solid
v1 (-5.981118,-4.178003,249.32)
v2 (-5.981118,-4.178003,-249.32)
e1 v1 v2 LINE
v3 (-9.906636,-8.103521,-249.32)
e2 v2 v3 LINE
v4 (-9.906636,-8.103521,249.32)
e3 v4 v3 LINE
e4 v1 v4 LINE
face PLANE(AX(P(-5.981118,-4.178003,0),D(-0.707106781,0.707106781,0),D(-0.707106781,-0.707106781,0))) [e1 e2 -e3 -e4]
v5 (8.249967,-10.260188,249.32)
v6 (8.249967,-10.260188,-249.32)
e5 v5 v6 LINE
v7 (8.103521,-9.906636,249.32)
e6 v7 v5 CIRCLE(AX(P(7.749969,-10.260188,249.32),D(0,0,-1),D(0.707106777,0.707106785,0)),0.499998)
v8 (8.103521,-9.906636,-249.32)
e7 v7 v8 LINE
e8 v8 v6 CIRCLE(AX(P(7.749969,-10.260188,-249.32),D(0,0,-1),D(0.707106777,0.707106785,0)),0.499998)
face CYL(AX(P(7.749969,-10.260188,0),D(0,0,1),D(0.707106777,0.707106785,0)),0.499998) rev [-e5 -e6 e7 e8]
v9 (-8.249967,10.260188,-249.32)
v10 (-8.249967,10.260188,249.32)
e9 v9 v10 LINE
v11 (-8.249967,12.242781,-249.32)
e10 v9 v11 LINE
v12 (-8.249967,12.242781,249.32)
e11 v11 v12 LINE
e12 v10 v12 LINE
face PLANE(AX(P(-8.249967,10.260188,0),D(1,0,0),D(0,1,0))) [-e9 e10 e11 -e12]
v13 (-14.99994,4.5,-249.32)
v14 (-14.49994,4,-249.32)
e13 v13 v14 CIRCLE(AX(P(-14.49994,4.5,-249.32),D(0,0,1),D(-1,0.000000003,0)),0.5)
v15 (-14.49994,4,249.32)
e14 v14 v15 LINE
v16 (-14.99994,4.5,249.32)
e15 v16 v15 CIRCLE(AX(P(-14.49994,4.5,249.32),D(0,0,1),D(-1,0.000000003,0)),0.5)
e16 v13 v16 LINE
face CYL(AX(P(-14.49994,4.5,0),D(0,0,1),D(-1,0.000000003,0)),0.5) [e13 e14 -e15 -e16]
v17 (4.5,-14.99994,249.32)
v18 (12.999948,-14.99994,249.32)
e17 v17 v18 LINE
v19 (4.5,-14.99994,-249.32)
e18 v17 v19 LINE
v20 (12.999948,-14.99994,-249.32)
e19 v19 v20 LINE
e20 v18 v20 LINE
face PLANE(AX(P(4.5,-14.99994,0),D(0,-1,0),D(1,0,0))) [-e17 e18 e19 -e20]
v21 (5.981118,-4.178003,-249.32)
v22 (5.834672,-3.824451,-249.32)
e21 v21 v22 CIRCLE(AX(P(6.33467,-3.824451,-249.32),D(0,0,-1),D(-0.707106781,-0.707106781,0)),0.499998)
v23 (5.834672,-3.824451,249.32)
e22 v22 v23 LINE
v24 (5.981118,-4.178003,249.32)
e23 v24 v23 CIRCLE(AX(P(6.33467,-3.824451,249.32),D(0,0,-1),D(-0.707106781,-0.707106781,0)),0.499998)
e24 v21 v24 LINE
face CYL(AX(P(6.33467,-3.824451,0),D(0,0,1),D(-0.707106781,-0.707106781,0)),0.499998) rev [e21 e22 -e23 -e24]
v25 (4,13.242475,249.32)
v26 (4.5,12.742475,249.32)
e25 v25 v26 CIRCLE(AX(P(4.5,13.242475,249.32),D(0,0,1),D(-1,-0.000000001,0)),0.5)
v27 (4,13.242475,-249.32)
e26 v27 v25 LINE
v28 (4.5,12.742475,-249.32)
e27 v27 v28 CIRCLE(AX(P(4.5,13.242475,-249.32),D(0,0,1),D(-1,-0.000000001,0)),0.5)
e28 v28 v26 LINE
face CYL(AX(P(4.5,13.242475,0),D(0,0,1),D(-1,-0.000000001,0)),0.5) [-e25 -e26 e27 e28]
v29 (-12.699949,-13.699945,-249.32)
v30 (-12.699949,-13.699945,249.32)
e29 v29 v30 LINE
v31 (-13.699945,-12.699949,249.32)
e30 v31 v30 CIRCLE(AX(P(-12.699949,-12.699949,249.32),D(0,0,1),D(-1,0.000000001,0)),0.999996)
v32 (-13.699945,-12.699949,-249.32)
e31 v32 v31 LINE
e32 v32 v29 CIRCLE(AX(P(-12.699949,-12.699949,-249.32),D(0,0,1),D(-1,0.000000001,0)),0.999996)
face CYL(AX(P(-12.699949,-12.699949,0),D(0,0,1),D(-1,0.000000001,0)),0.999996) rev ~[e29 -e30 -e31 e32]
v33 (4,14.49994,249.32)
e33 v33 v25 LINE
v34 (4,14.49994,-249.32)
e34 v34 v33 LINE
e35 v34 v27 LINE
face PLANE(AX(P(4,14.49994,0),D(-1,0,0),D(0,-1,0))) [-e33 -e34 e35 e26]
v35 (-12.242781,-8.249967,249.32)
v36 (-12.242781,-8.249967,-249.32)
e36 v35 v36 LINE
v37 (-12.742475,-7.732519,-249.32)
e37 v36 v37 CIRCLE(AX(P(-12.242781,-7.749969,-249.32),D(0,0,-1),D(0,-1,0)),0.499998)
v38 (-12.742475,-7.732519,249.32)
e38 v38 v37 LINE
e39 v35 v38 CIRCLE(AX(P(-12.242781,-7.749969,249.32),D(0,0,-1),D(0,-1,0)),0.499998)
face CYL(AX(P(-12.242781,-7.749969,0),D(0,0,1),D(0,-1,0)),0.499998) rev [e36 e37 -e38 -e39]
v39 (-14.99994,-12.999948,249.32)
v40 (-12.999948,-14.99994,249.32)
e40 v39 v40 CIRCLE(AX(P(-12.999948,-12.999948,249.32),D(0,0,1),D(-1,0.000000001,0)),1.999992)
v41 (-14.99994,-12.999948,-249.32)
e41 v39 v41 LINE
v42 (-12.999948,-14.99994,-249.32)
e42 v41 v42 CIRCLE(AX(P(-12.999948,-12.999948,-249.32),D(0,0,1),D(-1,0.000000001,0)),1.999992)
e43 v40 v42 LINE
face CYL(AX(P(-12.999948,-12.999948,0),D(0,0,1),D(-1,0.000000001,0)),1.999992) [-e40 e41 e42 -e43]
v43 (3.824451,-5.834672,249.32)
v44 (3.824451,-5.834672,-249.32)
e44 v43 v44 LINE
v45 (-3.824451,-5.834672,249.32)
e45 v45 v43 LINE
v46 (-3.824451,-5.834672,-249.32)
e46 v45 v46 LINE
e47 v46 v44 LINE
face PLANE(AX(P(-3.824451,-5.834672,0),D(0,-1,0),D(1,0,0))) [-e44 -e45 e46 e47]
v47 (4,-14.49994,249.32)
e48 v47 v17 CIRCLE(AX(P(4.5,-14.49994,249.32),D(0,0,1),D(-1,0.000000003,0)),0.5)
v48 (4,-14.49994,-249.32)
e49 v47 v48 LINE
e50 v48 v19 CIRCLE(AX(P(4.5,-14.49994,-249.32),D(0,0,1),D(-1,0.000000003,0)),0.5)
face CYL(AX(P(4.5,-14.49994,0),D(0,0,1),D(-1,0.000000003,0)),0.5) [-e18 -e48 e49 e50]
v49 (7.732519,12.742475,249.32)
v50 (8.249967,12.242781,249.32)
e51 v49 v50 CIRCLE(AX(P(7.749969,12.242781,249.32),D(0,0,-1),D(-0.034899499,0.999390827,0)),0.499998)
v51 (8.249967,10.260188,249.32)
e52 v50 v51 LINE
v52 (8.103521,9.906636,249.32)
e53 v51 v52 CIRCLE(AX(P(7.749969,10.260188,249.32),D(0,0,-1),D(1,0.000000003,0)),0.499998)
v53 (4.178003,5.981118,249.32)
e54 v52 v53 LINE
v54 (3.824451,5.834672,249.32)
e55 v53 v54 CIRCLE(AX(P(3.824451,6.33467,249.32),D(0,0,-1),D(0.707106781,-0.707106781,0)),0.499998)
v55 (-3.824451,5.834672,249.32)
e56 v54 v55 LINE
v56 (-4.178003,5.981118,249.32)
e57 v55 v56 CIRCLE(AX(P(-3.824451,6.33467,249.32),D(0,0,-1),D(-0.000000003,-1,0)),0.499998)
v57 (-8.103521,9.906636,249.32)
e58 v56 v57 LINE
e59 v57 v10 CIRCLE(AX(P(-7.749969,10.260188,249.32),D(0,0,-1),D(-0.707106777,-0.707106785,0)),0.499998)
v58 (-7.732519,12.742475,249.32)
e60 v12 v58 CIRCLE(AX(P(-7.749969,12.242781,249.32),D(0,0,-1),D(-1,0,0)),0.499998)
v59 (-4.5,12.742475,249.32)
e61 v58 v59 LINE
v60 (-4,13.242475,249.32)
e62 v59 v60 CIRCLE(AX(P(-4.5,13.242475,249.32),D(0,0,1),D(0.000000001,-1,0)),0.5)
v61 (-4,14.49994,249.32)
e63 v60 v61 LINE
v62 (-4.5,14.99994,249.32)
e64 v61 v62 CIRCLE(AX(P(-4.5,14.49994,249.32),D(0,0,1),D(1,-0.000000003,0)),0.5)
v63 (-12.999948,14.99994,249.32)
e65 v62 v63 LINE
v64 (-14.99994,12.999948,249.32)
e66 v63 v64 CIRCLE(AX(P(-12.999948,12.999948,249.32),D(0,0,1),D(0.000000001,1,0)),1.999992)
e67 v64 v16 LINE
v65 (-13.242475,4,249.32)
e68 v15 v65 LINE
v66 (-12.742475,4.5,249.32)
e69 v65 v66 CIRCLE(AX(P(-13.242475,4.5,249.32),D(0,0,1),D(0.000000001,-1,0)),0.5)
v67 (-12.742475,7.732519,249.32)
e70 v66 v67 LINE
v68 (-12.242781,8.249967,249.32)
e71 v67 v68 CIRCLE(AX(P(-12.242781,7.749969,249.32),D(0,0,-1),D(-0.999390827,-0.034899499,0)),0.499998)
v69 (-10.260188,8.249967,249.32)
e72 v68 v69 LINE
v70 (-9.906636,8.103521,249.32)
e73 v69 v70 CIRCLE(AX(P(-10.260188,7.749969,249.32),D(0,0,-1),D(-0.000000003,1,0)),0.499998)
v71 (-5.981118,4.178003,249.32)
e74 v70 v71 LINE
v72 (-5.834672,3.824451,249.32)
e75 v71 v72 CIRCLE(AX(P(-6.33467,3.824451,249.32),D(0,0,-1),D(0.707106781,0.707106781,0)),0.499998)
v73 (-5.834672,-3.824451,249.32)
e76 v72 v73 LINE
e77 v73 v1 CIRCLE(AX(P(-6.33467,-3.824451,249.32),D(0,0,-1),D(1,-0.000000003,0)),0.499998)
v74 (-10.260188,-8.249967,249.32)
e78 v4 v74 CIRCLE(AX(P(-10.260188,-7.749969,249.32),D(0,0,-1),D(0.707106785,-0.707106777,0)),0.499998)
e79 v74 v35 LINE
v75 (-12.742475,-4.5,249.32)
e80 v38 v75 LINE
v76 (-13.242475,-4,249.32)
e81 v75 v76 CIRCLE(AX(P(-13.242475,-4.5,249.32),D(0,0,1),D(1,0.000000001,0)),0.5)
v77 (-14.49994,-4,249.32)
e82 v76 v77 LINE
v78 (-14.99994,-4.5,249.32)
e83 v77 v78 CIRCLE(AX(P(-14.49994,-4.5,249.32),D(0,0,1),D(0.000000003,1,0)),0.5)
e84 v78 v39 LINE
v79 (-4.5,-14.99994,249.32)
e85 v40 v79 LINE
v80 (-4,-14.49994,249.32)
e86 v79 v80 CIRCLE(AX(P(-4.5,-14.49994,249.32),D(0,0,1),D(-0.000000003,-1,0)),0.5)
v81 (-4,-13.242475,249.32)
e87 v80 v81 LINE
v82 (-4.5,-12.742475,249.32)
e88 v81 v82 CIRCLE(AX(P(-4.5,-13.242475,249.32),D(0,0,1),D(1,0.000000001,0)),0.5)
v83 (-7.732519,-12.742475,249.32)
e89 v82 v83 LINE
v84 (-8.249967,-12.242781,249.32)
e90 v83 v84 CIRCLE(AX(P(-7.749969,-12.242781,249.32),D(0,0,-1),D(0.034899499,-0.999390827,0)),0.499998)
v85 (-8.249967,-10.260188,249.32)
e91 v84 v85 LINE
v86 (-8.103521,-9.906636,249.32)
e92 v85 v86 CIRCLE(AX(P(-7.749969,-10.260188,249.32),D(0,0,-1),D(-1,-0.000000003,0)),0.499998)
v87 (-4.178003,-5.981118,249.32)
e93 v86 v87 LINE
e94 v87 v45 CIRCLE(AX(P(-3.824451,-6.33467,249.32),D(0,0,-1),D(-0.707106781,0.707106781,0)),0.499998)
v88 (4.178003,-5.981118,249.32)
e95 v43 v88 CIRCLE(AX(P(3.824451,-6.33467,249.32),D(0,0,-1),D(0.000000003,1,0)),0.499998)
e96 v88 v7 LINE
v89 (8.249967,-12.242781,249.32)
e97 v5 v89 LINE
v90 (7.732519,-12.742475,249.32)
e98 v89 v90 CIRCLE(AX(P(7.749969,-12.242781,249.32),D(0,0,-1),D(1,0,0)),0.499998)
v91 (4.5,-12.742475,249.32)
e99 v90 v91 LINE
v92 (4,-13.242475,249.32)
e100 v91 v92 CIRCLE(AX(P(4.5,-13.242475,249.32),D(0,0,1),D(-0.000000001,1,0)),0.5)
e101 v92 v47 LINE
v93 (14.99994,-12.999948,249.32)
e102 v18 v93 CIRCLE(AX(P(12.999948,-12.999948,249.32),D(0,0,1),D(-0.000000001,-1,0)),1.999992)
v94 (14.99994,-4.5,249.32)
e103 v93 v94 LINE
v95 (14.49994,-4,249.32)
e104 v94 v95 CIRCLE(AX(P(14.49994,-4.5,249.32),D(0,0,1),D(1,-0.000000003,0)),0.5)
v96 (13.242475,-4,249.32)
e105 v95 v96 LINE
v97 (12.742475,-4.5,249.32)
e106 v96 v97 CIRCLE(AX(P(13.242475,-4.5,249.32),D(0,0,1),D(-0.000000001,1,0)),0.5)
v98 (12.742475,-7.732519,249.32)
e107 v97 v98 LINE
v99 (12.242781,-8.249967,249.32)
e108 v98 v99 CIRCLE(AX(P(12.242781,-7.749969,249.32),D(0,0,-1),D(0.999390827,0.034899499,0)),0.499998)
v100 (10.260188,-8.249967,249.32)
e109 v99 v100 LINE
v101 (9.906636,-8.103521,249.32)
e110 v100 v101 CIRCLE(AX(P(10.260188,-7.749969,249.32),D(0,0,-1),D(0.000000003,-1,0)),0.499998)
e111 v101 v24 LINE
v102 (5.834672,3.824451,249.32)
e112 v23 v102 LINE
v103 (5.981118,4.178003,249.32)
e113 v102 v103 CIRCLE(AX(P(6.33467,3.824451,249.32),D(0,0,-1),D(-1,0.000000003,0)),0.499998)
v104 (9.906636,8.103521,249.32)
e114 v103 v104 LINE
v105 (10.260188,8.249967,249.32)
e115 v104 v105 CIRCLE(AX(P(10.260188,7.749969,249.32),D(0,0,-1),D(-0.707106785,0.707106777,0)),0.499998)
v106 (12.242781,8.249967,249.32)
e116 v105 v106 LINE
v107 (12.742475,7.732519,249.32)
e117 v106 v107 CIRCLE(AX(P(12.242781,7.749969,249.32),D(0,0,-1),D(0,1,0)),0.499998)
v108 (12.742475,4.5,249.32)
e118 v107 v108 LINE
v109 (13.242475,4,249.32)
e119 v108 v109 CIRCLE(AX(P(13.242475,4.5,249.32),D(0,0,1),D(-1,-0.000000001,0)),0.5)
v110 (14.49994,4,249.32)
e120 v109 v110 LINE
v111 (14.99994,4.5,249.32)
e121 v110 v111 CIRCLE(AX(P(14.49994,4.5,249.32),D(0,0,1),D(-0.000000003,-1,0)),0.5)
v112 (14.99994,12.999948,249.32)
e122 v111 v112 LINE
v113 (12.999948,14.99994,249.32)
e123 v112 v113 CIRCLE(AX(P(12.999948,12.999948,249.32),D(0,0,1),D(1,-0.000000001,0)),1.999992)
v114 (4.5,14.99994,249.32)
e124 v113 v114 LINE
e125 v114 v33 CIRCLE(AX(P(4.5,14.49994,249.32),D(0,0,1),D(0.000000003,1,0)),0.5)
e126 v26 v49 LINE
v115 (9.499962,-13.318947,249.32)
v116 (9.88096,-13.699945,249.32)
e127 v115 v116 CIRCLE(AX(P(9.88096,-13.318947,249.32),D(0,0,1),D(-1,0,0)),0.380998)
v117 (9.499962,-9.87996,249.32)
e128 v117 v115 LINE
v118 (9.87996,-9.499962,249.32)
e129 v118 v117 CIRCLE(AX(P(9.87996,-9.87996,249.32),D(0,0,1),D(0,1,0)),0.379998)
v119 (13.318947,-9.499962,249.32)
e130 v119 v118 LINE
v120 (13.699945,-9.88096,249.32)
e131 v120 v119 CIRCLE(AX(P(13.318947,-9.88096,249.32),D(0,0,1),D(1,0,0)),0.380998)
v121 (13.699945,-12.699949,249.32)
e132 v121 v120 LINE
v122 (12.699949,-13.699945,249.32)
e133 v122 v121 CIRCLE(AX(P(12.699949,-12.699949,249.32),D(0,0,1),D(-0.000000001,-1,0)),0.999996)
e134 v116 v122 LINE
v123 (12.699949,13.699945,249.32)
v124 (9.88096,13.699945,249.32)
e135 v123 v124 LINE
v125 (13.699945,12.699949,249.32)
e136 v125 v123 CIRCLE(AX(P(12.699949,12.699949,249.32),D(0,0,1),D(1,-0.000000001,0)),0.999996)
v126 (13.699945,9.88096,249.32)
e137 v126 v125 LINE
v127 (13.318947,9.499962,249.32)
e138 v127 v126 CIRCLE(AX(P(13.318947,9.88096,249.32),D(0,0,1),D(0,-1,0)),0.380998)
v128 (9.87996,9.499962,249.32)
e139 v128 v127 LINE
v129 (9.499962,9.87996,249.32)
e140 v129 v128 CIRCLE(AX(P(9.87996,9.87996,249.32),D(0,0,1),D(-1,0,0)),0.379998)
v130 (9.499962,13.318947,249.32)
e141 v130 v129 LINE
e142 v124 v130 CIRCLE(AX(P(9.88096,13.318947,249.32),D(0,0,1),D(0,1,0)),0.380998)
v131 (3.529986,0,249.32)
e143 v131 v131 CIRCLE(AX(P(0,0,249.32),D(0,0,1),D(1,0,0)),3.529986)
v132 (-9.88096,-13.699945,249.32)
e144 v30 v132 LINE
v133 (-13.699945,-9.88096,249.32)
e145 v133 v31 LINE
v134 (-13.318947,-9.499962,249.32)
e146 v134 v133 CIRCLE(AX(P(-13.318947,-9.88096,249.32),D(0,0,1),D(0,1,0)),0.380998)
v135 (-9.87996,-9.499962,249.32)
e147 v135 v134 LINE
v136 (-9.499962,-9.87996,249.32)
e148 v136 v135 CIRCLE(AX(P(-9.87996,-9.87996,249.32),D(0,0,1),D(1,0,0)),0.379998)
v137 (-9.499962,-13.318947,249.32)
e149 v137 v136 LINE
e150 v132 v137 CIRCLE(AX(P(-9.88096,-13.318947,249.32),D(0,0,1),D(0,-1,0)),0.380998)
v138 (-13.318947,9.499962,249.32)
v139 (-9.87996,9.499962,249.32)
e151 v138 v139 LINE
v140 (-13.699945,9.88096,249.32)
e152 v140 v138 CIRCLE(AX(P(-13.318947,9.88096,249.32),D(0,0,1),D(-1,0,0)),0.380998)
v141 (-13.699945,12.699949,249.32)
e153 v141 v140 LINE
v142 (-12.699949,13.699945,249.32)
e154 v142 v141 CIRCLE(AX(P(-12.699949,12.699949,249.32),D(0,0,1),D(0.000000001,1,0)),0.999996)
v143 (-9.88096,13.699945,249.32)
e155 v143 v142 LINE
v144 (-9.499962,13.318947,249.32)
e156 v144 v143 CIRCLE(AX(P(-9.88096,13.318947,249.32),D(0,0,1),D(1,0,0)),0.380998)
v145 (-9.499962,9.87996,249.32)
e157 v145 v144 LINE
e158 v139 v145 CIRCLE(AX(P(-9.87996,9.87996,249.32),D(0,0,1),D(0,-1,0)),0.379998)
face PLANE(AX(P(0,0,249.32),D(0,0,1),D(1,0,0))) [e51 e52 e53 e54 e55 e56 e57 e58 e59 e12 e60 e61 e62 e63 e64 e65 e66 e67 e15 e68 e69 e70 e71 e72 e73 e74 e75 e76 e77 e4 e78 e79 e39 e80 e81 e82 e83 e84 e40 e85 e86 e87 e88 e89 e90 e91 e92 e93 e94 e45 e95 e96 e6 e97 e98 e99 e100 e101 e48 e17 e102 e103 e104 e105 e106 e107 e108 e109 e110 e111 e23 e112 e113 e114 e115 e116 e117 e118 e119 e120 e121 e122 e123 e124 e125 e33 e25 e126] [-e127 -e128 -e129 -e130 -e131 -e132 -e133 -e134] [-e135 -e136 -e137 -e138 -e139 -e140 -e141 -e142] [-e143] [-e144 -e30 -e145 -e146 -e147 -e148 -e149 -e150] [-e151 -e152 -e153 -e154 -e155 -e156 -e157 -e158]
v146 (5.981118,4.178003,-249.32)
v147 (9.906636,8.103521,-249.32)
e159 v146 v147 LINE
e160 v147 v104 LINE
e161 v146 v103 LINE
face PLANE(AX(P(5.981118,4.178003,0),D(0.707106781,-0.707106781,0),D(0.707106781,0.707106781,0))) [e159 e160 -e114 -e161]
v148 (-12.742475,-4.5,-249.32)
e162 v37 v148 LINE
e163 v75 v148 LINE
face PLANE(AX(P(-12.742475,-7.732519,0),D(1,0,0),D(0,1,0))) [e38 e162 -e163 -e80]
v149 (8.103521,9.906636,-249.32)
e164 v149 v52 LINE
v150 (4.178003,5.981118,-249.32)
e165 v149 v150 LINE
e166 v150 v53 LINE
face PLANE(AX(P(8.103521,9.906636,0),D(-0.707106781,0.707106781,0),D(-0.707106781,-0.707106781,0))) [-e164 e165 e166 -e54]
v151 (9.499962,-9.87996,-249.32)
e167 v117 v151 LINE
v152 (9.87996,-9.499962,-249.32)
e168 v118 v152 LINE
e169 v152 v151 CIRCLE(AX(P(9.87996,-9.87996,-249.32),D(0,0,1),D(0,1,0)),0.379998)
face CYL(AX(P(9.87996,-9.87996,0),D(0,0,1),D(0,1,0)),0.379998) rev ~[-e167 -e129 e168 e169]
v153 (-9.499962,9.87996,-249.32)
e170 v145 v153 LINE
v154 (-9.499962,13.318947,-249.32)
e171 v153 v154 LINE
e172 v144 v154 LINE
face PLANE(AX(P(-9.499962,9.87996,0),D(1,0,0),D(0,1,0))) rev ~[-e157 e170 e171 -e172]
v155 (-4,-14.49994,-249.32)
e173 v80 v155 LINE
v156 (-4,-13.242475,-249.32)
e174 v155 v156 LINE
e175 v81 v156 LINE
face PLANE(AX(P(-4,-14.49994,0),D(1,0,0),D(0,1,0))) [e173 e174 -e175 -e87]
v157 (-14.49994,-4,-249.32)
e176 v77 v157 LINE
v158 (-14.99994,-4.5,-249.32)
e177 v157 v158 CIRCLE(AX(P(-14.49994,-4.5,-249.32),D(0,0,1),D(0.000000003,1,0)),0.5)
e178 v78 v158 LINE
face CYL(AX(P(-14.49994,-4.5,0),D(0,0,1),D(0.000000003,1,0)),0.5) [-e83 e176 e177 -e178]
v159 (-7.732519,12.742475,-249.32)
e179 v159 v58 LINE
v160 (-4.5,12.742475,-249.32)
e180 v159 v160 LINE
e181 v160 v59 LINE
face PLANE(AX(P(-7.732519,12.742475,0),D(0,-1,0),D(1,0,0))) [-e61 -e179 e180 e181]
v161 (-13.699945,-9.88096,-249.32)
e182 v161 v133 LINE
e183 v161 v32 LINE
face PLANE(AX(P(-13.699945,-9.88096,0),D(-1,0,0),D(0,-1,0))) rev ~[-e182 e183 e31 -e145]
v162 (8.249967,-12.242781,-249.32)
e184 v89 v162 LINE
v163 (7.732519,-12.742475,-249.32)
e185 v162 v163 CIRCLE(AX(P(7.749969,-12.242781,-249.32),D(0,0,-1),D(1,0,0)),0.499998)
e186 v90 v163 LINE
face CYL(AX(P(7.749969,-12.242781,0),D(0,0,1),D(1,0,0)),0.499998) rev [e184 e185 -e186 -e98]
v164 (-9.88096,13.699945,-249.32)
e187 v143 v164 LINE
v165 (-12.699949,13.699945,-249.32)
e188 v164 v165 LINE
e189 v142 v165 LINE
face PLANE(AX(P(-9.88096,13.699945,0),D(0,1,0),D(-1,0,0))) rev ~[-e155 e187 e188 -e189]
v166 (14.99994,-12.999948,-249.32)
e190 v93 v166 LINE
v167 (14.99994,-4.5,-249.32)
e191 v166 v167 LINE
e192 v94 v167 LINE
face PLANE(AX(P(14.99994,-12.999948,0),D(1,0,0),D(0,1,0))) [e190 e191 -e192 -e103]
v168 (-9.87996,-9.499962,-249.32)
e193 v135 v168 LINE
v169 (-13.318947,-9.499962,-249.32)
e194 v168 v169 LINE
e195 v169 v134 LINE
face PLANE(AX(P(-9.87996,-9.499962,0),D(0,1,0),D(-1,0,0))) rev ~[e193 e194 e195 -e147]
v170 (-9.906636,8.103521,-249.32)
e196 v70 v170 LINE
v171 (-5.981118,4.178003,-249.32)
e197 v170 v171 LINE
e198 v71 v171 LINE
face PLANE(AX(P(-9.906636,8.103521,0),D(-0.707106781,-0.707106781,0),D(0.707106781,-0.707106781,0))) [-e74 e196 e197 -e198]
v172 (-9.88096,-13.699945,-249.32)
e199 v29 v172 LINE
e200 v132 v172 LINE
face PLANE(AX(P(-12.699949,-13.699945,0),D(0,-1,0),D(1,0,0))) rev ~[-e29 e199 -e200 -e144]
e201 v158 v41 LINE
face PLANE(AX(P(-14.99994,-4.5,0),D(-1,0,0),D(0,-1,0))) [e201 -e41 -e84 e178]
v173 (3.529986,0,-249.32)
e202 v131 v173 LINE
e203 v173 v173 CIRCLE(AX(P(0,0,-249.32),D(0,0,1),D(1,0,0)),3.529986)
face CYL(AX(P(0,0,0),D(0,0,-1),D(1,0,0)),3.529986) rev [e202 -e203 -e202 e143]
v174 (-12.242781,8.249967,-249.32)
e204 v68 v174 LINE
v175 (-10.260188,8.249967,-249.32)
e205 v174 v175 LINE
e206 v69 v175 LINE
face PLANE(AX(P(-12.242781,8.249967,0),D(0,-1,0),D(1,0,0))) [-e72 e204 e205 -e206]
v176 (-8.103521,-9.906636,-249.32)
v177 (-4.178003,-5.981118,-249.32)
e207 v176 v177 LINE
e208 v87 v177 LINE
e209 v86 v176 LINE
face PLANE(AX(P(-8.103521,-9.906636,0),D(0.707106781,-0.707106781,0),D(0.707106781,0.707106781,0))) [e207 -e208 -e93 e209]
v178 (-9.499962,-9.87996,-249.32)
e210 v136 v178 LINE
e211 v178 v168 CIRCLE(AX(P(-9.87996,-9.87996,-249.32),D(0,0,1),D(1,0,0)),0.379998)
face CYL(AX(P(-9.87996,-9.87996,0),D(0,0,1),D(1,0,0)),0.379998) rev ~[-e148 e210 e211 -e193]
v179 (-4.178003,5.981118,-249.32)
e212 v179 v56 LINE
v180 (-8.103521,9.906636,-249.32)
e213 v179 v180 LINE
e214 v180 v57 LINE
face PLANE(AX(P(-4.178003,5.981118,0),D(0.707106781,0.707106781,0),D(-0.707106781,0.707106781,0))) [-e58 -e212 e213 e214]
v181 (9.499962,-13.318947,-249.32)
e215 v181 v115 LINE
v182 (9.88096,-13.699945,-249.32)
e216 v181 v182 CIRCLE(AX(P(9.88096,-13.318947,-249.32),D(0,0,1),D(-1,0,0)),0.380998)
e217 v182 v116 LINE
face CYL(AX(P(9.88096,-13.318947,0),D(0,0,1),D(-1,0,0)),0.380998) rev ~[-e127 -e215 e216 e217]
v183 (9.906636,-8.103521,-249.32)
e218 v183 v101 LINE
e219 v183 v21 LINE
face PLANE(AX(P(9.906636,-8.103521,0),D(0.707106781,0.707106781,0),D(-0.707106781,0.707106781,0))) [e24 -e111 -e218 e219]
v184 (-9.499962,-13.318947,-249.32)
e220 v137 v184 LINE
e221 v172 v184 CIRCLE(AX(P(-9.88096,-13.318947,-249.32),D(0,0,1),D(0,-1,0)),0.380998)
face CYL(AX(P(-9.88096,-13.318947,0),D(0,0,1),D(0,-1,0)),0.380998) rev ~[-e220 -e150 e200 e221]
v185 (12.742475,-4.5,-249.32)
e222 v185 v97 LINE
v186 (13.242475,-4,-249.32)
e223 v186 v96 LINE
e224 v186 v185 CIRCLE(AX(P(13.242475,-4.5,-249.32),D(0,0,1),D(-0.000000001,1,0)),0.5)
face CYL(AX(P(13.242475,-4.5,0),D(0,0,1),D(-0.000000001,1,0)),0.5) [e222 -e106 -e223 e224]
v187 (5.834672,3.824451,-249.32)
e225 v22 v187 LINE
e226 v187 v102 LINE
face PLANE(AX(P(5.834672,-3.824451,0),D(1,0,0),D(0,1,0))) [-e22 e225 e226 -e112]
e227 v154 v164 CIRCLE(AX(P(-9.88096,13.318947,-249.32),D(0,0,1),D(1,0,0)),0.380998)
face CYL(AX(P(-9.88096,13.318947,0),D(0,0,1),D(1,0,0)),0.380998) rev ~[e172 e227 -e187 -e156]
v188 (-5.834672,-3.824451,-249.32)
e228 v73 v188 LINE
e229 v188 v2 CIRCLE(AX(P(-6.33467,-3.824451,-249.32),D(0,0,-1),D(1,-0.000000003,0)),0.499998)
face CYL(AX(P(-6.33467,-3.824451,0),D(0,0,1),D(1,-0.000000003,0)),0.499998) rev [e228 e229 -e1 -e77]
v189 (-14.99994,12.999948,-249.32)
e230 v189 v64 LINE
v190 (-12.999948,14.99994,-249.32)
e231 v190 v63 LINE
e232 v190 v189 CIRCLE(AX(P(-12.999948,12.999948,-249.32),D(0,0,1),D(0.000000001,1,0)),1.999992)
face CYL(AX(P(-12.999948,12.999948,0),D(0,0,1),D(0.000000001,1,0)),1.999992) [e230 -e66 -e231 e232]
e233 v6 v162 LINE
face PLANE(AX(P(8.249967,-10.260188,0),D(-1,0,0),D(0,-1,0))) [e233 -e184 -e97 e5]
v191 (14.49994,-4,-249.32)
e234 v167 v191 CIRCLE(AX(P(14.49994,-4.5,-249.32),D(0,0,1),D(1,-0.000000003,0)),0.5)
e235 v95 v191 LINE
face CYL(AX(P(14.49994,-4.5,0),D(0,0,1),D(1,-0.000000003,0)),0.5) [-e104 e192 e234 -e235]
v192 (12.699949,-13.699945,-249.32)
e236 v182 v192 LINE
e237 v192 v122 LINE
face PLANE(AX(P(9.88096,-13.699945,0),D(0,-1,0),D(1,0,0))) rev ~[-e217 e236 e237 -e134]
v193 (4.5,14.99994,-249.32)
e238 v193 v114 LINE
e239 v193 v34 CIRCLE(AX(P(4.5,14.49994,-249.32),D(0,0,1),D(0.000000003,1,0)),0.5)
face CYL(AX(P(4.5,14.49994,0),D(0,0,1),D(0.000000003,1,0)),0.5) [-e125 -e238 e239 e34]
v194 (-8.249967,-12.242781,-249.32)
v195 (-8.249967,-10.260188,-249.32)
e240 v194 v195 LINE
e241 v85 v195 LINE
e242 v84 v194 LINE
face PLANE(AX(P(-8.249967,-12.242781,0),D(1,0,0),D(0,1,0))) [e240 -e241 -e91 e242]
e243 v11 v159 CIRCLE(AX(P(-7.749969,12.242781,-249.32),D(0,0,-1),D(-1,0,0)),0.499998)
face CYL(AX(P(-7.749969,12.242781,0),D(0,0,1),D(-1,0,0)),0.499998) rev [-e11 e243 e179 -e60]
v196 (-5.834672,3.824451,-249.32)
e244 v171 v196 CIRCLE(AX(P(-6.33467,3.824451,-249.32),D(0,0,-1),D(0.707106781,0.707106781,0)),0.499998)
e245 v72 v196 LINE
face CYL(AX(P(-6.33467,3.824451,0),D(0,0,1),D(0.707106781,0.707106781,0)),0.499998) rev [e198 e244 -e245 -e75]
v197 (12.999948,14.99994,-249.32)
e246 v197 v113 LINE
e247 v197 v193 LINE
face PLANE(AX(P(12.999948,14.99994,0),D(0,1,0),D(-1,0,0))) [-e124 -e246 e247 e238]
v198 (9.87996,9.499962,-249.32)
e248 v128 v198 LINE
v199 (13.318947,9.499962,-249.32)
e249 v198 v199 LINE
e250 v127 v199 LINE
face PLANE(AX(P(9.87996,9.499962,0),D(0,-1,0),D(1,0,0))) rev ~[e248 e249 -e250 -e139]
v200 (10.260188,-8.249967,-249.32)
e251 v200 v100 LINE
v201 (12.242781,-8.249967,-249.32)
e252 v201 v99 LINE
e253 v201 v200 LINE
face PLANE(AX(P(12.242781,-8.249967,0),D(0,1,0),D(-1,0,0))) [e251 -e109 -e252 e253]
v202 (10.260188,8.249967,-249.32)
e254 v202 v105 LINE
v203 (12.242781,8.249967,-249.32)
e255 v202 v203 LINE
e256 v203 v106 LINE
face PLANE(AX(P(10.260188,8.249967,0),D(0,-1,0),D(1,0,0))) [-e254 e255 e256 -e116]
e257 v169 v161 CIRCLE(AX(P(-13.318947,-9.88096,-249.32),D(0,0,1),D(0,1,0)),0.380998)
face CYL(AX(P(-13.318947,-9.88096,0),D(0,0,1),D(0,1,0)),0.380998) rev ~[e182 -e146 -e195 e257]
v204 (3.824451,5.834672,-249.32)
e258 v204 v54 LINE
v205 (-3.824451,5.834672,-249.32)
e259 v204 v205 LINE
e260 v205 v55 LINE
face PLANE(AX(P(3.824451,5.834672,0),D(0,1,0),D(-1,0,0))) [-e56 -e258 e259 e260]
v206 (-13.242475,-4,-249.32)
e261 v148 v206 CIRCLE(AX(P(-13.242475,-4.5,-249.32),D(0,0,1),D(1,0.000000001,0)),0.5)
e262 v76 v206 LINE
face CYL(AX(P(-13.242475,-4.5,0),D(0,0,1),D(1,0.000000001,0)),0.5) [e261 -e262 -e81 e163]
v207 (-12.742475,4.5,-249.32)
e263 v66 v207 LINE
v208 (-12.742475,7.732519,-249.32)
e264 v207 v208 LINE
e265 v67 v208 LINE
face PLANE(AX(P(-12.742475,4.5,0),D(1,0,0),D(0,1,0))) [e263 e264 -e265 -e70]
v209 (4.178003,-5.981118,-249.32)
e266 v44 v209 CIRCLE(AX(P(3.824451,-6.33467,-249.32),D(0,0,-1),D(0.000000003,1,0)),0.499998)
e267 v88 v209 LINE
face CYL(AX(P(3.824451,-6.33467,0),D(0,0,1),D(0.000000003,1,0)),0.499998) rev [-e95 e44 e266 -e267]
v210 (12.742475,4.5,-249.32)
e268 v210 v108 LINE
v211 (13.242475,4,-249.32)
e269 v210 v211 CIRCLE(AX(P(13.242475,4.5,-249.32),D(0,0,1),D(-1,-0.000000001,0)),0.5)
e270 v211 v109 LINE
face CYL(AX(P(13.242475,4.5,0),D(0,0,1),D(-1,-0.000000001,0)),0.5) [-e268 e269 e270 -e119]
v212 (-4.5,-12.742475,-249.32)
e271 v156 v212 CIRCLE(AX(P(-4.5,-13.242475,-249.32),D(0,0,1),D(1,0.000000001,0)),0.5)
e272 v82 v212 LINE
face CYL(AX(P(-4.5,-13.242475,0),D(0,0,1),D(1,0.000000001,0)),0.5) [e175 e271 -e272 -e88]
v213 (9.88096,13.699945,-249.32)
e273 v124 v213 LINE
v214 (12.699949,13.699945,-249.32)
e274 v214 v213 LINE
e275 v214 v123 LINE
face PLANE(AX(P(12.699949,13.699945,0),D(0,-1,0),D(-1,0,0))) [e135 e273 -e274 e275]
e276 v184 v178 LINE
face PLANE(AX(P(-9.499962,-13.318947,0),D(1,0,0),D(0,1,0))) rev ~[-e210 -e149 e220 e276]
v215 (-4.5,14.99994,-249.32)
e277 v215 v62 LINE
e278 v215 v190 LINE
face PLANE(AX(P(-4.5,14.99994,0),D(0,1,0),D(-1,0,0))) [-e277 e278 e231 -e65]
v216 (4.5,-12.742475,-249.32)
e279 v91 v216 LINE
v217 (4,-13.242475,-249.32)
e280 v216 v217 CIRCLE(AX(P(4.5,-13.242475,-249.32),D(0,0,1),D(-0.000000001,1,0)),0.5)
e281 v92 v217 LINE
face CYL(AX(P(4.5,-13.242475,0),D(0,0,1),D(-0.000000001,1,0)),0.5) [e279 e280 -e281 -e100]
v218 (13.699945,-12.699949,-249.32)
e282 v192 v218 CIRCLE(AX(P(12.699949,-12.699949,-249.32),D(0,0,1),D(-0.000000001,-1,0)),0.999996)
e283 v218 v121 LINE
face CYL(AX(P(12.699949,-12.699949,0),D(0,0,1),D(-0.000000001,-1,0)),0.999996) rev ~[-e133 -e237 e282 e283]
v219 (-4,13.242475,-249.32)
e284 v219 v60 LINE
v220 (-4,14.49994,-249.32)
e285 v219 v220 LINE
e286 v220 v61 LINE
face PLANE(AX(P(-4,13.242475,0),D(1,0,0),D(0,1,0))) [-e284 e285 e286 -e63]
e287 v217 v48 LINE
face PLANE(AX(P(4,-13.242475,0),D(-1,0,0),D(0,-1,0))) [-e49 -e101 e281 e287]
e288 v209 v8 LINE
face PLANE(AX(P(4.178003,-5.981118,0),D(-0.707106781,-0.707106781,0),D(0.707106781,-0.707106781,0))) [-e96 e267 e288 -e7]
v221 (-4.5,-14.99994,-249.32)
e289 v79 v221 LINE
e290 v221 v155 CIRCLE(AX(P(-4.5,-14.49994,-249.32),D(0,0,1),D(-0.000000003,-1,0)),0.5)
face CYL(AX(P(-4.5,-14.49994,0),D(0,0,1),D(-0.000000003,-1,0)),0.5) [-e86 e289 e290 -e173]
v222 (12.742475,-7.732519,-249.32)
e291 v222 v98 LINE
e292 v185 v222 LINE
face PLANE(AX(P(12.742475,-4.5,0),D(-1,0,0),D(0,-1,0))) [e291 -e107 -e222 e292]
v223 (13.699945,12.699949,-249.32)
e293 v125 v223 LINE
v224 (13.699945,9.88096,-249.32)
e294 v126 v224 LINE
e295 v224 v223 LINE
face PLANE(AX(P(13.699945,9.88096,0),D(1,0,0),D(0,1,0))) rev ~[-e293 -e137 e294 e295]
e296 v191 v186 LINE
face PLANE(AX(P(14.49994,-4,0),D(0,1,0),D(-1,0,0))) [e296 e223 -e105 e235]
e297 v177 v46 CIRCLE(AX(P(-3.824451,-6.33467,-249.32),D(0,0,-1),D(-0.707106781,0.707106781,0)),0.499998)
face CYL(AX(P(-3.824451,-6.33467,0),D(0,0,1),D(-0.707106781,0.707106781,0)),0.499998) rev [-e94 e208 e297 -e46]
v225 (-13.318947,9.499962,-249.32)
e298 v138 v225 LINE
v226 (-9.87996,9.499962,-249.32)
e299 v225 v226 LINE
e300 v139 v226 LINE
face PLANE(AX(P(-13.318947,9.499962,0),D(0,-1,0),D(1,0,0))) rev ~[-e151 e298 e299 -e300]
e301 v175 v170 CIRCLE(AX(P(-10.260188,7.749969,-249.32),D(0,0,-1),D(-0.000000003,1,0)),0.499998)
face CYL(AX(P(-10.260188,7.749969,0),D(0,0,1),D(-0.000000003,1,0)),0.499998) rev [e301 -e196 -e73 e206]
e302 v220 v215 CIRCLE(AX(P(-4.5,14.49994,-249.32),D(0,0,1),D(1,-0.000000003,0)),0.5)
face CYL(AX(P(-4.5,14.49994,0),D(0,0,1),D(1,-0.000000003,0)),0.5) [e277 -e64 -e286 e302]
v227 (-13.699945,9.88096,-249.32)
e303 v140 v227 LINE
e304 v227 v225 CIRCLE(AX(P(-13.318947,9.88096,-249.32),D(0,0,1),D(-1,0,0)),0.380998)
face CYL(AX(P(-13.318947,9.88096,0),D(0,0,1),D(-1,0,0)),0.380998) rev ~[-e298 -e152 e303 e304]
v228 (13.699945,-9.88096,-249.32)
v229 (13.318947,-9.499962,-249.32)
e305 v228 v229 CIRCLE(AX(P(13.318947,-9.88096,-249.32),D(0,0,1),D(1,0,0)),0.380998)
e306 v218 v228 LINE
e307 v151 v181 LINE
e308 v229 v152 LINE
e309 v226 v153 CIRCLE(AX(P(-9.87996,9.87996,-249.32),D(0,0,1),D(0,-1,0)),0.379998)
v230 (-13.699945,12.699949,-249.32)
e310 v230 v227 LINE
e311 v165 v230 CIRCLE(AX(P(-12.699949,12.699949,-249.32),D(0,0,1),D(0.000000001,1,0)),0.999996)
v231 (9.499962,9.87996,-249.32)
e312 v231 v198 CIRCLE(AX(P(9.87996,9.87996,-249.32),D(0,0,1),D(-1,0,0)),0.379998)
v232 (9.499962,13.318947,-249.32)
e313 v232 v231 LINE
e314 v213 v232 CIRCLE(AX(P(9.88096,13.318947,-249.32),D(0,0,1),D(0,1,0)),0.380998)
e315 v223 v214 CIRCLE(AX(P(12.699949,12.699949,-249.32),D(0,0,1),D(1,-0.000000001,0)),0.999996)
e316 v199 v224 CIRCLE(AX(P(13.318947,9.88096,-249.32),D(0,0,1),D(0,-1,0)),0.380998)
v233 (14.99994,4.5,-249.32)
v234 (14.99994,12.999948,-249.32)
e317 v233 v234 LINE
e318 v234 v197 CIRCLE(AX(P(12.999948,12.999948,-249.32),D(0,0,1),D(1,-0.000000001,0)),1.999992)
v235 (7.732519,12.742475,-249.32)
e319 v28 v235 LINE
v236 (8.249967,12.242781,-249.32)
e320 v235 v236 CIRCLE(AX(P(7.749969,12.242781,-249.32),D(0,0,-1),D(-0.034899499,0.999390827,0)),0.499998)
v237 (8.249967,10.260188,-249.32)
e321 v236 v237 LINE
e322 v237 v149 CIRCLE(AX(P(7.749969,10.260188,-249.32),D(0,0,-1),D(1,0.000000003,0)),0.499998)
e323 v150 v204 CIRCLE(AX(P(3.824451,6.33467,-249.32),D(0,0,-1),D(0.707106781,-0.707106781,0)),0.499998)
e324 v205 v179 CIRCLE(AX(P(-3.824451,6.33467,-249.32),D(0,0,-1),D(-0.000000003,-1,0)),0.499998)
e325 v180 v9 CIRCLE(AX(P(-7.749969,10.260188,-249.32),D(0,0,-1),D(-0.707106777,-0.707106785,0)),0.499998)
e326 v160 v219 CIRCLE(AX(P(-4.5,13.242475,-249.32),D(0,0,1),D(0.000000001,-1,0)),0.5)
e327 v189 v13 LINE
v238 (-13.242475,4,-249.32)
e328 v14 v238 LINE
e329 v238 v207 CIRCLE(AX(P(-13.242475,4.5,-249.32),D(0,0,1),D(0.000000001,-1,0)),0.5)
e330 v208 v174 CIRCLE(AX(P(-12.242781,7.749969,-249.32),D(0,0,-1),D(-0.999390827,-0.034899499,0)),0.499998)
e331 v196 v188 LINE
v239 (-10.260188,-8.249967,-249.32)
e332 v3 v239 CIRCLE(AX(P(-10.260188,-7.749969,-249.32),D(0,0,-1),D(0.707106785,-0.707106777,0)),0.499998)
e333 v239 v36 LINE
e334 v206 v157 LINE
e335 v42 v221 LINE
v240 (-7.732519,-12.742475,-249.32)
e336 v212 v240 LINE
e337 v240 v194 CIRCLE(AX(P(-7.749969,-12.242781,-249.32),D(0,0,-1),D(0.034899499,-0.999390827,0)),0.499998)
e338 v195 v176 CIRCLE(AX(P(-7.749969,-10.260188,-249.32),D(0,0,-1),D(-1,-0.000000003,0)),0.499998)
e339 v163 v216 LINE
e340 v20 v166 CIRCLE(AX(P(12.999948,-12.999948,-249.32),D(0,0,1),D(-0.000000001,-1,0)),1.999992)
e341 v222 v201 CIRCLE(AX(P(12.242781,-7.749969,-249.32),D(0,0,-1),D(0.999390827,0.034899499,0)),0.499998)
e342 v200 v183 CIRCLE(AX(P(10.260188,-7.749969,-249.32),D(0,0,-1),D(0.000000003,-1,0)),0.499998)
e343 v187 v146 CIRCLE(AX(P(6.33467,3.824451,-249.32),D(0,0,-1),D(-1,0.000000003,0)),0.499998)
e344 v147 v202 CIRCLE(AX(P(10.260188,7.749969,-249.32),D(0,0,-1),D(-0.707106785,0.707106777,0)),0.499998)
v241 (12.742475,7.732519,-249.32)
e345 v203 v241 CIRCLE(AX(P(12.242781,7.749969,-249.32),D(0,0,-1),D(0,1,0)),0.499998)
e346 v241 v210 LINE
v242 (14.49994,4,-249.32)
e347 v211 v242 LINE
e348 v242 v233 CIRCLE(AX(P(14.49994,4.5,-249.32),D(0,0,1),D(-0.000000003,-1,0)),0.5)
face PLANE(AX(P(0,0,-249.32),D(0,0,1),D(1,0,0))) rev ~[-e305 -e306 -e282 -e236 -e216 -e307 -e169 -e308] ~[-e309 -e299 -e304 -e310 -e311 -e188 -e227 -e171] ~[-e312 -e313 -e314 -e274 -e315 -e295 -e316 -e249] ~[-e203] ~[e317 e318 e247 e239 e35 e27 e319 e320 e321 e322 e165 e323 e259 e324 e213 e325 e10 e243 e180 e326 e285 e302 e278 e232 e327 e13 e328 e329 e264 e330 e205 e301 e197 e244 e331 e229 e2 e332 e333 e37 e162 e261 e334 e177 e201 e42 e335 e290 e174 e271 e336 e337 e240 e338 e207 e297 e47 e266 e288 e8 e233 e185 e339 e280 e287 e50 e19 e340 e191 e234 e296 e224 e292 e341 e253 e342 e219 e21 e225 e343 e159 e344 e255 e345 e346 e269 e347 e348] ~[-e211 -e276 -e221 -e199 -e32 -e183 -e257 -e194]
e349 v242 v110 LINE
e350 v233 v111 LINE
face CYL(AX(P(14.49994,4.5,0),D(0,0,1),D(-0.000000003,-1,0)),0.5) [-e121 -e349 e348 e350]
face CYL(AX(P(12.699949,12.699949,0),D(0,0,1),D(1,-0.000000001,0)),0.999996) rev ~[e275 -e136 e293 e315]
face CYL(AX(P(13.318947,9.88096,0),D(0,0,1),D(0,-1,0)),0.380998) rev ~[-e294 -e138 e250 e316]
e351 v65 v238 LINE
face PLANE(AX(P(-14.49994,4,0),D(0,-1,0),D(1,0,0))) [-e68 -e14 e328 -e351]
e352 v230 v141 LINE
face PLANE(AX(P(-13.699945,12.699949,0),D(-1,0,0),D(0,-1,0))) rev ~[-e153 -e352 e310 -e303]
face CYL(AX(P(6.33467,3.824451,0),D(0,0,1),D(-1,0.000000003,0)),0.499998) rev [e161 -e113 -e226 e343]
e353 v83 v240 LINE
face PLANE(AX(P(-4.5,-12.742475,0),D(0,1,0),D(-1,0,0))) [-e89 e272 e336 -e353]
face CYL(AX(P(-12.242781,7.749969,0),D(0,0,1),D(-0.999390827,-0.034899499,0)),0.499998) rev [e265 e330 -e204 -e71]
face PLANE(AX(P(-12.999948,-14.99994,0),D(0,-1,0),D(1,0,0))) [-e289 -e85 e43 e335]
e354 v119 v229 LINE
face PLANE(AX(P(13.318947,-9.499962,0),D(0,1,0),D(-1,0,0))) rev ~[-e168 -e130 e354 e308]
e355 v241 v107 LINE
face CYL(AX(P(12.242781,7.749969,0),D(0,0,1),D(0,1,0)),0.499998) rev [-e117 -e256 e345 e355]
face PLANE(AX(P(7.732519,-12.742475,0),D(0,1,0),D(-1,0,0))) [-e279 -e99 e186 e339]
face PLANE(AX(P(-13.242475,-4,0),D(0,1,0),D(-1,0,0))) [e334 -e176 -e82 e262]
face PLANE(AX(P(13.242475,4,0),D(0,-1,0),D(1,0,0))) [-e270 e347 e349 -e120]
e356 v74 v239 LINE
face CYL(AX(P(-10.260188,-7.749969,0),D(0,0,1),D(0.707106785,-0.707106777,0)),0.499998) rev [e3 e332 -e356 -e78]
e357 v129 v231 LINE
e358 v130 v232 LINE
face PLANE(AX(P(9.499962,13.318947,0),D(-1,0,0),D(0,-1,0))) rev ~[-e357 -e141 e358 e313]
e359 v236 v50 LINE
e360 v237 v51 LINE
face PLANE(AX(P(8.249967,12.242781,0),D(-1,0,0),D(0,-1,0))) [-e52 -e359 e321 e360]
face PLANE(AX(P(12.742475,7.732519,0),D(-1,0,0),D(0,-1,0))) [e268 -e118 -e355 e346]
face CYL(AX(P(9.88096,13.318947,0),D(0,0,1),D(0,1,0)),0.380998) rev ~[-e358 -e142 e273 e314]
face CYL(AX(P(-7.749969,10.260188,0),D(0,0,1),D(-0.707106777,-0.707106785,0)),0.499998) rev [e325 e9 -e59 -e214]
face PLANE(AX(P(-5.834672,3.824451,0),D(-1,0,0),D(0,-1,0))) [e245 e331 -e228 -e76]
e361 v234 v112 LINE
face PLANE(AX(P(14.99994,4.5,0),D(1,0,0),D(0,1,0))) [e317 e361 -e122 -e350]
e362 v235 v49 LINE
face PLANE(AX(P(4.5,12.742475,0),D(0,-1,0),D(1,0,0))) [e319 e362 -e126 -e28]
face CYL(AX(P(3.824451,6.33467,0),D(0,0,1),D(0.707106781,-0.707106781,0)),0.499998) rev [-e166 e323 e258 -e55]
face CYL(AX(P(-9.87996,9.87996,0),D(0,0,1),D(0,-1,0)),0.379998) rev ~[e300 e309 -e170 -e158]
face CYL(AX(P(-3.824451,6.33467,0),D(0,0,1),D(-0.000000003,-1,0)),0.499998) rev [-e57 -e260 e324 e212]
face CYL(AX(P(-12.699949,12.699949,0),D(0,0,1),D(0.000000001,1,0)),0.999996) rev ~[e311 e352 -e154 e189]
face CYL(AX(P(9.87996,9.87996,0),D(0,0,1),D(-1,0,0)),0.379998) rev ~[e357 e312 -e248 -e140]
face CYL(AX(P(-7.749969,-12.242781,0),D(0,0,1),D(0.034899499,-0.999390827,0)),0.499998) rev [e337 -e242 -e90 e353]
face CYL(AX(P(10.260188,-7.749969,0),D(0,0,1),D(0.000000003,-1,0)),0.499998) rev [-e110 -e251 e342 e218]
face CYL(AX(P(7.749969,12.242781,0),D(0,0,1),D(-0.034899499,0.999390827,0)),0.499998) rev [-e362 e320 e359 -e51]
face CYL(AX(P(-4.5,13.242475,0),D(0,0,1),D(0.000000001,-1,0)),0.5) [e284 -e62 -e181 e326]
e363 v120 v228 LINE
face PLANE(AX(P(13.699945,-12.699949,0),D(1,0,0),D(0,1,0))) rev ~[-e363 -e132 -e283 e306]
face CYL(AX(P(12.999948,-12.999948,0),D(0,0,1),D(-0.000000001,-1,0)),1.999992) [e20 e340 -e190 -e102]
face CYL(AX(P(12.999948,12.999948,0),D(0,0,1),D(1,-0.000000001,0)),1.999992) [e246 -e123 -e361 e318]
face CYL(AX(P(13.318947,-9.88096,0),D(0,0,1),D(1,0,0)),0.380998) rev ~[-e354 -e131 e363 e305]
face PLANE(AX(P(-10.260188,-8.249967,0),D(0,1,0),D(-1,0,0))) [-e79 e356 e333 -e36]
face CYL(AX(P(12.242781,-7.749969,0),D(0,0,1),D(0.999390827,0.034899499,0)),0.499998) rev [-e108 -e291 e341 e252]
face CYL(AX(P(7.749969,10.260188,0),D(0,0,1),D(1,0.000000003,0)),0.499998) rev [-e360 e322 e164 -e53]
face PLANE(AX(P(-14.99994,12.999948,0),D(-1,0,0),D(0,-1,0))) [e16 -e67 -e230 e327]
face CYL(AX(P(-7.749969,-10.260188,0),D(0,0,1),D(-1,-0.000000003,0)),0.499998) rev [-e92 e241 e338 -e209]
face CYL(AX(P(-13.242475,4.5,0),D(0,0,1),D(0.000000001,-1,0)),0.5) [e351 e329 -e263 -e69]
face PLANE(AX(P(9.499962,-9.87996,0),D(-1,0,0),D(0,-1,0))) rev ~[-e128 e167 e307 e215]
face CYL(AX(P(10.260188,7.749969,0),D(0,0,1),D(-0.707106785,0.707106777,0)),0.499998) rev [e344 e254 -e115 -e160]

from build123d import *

# Parameters (mm, degrees)
SKETCH1_R           = 3.52998588
BOSS_EXTRUDE1_DEPTH = 249.32


with BuildPart() as part:
    # Sketch1 → Boss-Extrude1 (new, symmetric)
    with BuildSketch(Plane.XY):
        with BuildLine():
            Line((14.49994, -4), (13.24247465, -4))
            ThreePointArc((13.24247465, -4), (12.88892126, -4.146446609), (12.74247465, -4.5))
            Line((12.74247465, -4.5), (12.74247465, -7.732519321))
            ThreePointArc((12.74247465, -7.732519321), (12.602449697, -8.097296796), (12.242781236, -8.249967))
            Line((12.242781236, -8.249967), (10.260188032, -8.249967))
            ThreePointArc((10.260188032, -8.249967), (10.068847082, -8.211906919), (9.906636056, -8.103520976))
            Line((9.906636056, -8.103520976), (5.981117769, -4.178002689))
            ThreePointArc((5.981117769, -4.178002689), (5.872731827, -4.015791664), (5.834671745, -3.824450713))
            Line((5.834671745, -3.824450713), (5.834671745, -1.01249595))
            Line((5.834671745, -1.01249595), (5.834671745, 0.88749645))
            Line((5.834671745, 0.88749645), (5.834671745, 3.824450713))
            ThreePointArc((5.834671745, 3.824450713), (5.872731827, 4.015791664), (5.981117769, 4.178002689))
            Line((5.981117769, 4.178002689), (9.906636056, 8.103520976))
            ThreePointArc((9.906636056, 8.103520976), (10.068847082, 8.211906919), (10.260188032, 8.249967))
            Line((10.260188032, 8.249967), (12.242781236, 8.249967))
            ThreePointArc((12.242781236, 8.249967), (12.602449697, 8.097296796), (12.74247465, 7.732519321))
            Line((12.74247465, 7.732519321), (12.74247465, 4.5))
            ThreePointArc((12.74247465, 4.5), (12.88892126, 4.146446609), (13.24247465, 4))
            Line((13.24247465, 4), (14.49994, 4))
            ThreePointArc((14.49994, 4), (14.853493391, 4.146446609), (14.99994, 4.5))
            Line((14.99994, 4.5), (14.99994, 12.999948))
            ThreePointArc((14.99994, 12.999948), (14.414155906, 14.414155906), (12.999948, 14.99994))
            Line((12.999948, 14.99994), (4.5, 14.99994))
            ThreePointArc((4.5, 14.99994), (4.146446609, 14.853493391), (4, 14.49994))
            Line((4, 14.49994), (4, 13.24247465))
            ThreePointArc((4, 13.24247465), (4.146446609, 12.88892126), (4.5, 12.74247465))
            Line((4.5, 12.74247465), (7.732519321, 12.74247465))
            ThreePointArc((7.732519321, 12.74247465), (8.097296796, 12.602449697), (8.249967, 12.242781236))
            Line((8.249967, 12.242781236), (8.249967, 10.260188032))
            ThreePointArc((8.249967, 10.260188032), (8.211906919, 10.068847082), (8.103520976, 9.906636056))
            Line((8.103520976, 9.906636056), (4.178002689, 5.981117769))
            ThreePointArc((4.178002689, 5.981117769), (4.015791664, 5.872731827), (3.824450713, 5.834671745))
            Line((3.824450713, 5.834671745), (0.9499962, 5.834671745))
            Line((0.9499962, 5.834671745), (-0.9499962, 5.834671745))
            Line((-0.9499962, 5.834671745), (-3.824450713, 5.834671745))
            ThreePointArc((-3.824450713, 5.834671745), (-4.015791664, 5.872731827), (-4.178002689, 5.981117769))
            Line((-4.178002689, 5.981117769), (-8.103520976, 9.906636056))
            ThreePointArc((-8.103520976, 9.906636056), (-8.211906919, 10.068847082), (-8.249967, 10.260188032))
            Line((-8.249967, 10.260188032), (-8.249967, 12.242781236))
            ThreePointArc((-8.249967, 12.242781236), (-8.097296796, 12.602449697), (-7.732519321, 12.74247465))
            Line((-7.732519321, 12.74247465), (-4.5, 12.74247465))
            ThreePointArc((-4.5, 12.74247465), (-4.146446609, 12.88892126), (-4, 13.24247465))
            Line((-4, 13.24247465), (-4, 14.49994))
            ThreePointArc((-4, 14.49994), (-4.146446609, 14.853493391), (-4.5, 14.99994))
            Line((-4.5, 14.99994), (-12.999948, 14.99994))
            ThreePointArc((-12.999948, 14.99994), (-14.414155906, 14.414155906), (-14.99994, 12.999948))
            Line((-14.99994, 12.999948), (-14.99994, 4.5))
            ThreePointArc((-14.99994, 4.5), (-14.853493391, 4.146446609), (-14.49994, 4))
            Line((-14.49994, 4), (-13.24247465, 4))
            ThreePointArc((-13.24247465, 4), (-12.88892126, 4.146446609), (-12.74247465, 4.5))
            Line((-12.74247465, 4.5), (-12.74247465, 7.732519321))
            ThreePointArc((-12.74247465, 7.732519321), (-12.602449697, 8.097296796), (-12.242781236, 8.249967))
            Line((-12.242781236, 8.249967), (-10.260188032, 8.249967))
            ThreePointArc((-10.260188032, 8.249967), (-10.068847082, 8.211906919), (-9.906636056, 8.103520976))
            Line((-9.906636056, 8.103520976), (-5.981117769, 4.178002689))
            ThreePointArc((-5.981117769, 4.178002689), (-5.872731827, 4.015791664), (-5.834671745, 3.824450713))
            Line((-5.834671745, 3.824450713), (-5.834671745, 0.88749645))
            Line((-5.834671745, 0.88749645), (-5.834671745, -1.01249595))
            Line((-5.834671745, -1.01249595), (-5.834671745, -3.824450713))
            ThreePointArc((-5.834671745, -3.824450713), (-5.872731827, -4.015791664), (-5.981117769, -4.178002689))
            Line((-5.981117769, -4.178002689), (-9.906636056, -8.103520976))
            ThreePointArc((-9.906636056, -8.103520976), (-10.068847082, -8.211906919), (-10.260188032, -8.249967))
            Line((-10.260188032, -8.249967), (-12.242781236, -8.249967))
            ThreePointArc((-12.242781236, -8.249967), (-12.602449697, -8.097296796), (-12.74247465, -7.732519321))
            Line((-12.74247465, -7.732519321), (-12.74247465, -4.5))
            ThreePointArc((-12.74247465, -4.5), (-12.88892126, -4.146446609), (-13.24247465, -4))
            Line((-13.24247465, -4), (-14.49994, -4))
            ThreePointArc((-14.49994, -4), (-14.853493391, -4.146446609), (-14.99994, -4.5))
            Line((-14.99994, -4.5), (-14.99994, -12.999948))
            ThreePointArc((-14.99994, -12.999948), (-14.414155906, -14.414155906), (-12.999948, -14.99994))
            Line((-12.999948, -14.99994), (-4.5, -14.99994))
            ThreePointArc((-4.5, -14.99994), (-4.146446609, -14.853493391), (-4, -14.49994))
            Line((-4, -14.49994), (-4, -13.24247465))
            ThreePointArc((-4, -13.24247465), (-4.146446609, -12.88892126), (-4.5, -12.74247465))
            Line((-4.5, -12.74247465), (-7.732519321, -12.74247465))
            ThreePointArc((-7.732519321, -12.74247465), (-8.097296796, -12.602449697), (-8.249967, -12.242781236))
            Line((-8.249967, -12.242781236), (-8.249967, -10.260188032))
            ThreePointArc((-8.249967, -10.260188032), (-8.211906919, -10.068847082), (-8.103520976, -9.906636056))
            Line((-8.103520976, -9.906636056), (-4.178002689, -5.981117769))
            ThreePointArc((-4.178002689, -5.981117769), (-4.015791664, -5.872731827), (-3.824450713, -5.834671745))
            Line((-3.824450713, -5.834671745), (-0.9499962, -5.834671745))
            Line((-0.9499962, -5.834671745), (0.9499962, -5.834671745))
            Line((0.9499962, -5.834671745), (3.824450713, -5.834671745))
            ThreePointArc((3.824450713, -5.834671745), (4.015791664, -5.872731827), (4.178002689, -5.981117769))
            Line((4.178002689, -5.981117769), (8.103520976, -9.906636056))
            ThreePointArc((8.103520976, -9.906636056), (8.211906919, -10.068847082), (8.249967, -10.260188032))
            Line((8.249967, -10.260188032), (8.249967, -12.242781236))
            ThreePointArc((8.249967, -12.242781236), (8.097296796, -12.602449697), (7.732519321, -12.74247465))
            Line((7.732519321, -12.74247465), (4.5, -12.74247465))
            ThreePointArc((4.5, -12.74247465), (4.146446609, -12.88892126), (4, -13.24247465))
            Line((4, -13.24247465), (4, -14.49994))
            ThreePointArc((4, -14.49994), (4.146446609, -14.853493391), (4.5, -14.99994))
            Line((4.5, -14.99994), (12.999948, -14.99994))
            ThreePointArc((12.999948, -14.99994), (14.414155906, -14.414155906), (14.99994, -12.999948))
            Line((14.99994, -12.999948), (14.99994, -4.5))
            ThreePointArc((14.99994, -4.5), (14.853493391, -4.146446609), (14.49994, -4))
        make_face()
        Circle(SKETCH1_R, mode=Mode.SUBTRACT)
        with BuildLine():
            Line((-12.6999492, -13.6999452), (-9.880960476, -13.6999452))
            ThreePointArc((-9.880960476, -13.6999452), (-9.61155387, -13.58835333), (-9.499962, -13.318946724))
            Line((-9.499962, -13.318946724), (-9.499962, -9.87996048))
            ThreePointArc((-9.499962, -9.87996048), (-9.611260978, -9.611260978), (-9.87996048, -9.499962))
            Line((-9.87996048, -9.499962), (-13.318946724, -9.499962))
            ThreePointArc((-13.318946724, -9.499962), (-13.58835333, -9.61155387), (-13.6999452, -9.880960476))
            Line((-13.6999452, -9.880960476), (-13.6999452, -12.6999492))
            ThreePointArc((-13.6999452, -12.6999492), (-13.407053153, -13.407053153), (-12.6999492, -13.6999452))
        make_face(mode=Mode.SUBTRACT)
        with BuildLine():
            Line((13.6999452, -12.6999492), (13.6999452, -9.880960476))
            ThreePointArc((13.6999452, -9.880960476), (13.58835333, -9.61155387), (13.318946724, -9.499962))
            Line((13.318946724, -9.499962), (9.87996048, -9.499962))
            ThreePointArc((9.87996048, -9.499962), (9.611260978, -9.611260978), (9.499962, -9.87996048))
            Line((9.499962, -9.87996048), (9.499962, -13.318946724))
            ThreePointArc((9.499962, -13.318946724), (9.61155387, -13.58835333), (9.880960476, -13.6999452))
            Line((9.880960476, -13.6999452), (12.6999492, -13.6999452))
            ThreePointArc((12.6999492, -13.6999452), (13.407053153, -13.407053153), (13.6999452, -12.6999492))
        make_face(mode=Mode.SUBTRACT)
        with BuildLine():
            Line((9.87996048, 9.499962), (13.318946724, 9.499962))
            ThreePointArc((13.318946724, 9.499962), (13.58835333, 9.61155387), (13.6999452, 9.880960476))
            Line((13.6999452, 9.880960476), (13.6999452, 12.6999492))
            ThreePointArc((13.6999452, 12.6999492), (13.407053153, 13.407053153), (12.6999492, 13.6999452))
            Line((12.6999492, 13.6999452), (9.880960476, 13.6999452))
            ThreePointArc((9.880960476, 13.6999452), (9.61155387, 13.58835333), (9.499962, 13.318946724))
            Line((9.499962, 13.318946724), (9.499962, 9.87996048))
            ThreePointArc((9.499962, 9.87996048), (9.611260978, 9.611260978), (9.87996048, 9.499962))
        make_face(mode=Mode.SUBTRACT)
        with BuildLine():
            Line((-13.6999452, 12.6999492), (-13.6999452, 9.880960476))
            ThreePointArc((-13.6999452, 9.880960476), (-13.58835333, 9.61155387), (-13.318946724, 9.499962))
            Line((-13.318946724, 9.499962), (-9.87996048, 9.499962))
            ThreePointArc((-9.87996048, 9.499962), (-9.611260978, 9.611260978), (-9.499962, 9.87996048))
            Line((-9.499962, 9.87996048), (-9.499962, 13.318946724))
            ThreePointArc((-9.499962, 13.318946724), (-9.61155387, 13.58835333), (-9.880960476, 13.6999452))
            Line((-9.880960476, 13.6999452), (-12.6999492, 13.6999452))
            ThreePointArc((-12.6999492, 13.6999452), (-13.407053153, 13.407053153), (-13.6999452, 12.6999492))
        make_face(mode=Mode.SUBTRACT)
    extrude(amount=BOSS_EXTRUDE1_DEPTH, both=True)


solid = part.part
